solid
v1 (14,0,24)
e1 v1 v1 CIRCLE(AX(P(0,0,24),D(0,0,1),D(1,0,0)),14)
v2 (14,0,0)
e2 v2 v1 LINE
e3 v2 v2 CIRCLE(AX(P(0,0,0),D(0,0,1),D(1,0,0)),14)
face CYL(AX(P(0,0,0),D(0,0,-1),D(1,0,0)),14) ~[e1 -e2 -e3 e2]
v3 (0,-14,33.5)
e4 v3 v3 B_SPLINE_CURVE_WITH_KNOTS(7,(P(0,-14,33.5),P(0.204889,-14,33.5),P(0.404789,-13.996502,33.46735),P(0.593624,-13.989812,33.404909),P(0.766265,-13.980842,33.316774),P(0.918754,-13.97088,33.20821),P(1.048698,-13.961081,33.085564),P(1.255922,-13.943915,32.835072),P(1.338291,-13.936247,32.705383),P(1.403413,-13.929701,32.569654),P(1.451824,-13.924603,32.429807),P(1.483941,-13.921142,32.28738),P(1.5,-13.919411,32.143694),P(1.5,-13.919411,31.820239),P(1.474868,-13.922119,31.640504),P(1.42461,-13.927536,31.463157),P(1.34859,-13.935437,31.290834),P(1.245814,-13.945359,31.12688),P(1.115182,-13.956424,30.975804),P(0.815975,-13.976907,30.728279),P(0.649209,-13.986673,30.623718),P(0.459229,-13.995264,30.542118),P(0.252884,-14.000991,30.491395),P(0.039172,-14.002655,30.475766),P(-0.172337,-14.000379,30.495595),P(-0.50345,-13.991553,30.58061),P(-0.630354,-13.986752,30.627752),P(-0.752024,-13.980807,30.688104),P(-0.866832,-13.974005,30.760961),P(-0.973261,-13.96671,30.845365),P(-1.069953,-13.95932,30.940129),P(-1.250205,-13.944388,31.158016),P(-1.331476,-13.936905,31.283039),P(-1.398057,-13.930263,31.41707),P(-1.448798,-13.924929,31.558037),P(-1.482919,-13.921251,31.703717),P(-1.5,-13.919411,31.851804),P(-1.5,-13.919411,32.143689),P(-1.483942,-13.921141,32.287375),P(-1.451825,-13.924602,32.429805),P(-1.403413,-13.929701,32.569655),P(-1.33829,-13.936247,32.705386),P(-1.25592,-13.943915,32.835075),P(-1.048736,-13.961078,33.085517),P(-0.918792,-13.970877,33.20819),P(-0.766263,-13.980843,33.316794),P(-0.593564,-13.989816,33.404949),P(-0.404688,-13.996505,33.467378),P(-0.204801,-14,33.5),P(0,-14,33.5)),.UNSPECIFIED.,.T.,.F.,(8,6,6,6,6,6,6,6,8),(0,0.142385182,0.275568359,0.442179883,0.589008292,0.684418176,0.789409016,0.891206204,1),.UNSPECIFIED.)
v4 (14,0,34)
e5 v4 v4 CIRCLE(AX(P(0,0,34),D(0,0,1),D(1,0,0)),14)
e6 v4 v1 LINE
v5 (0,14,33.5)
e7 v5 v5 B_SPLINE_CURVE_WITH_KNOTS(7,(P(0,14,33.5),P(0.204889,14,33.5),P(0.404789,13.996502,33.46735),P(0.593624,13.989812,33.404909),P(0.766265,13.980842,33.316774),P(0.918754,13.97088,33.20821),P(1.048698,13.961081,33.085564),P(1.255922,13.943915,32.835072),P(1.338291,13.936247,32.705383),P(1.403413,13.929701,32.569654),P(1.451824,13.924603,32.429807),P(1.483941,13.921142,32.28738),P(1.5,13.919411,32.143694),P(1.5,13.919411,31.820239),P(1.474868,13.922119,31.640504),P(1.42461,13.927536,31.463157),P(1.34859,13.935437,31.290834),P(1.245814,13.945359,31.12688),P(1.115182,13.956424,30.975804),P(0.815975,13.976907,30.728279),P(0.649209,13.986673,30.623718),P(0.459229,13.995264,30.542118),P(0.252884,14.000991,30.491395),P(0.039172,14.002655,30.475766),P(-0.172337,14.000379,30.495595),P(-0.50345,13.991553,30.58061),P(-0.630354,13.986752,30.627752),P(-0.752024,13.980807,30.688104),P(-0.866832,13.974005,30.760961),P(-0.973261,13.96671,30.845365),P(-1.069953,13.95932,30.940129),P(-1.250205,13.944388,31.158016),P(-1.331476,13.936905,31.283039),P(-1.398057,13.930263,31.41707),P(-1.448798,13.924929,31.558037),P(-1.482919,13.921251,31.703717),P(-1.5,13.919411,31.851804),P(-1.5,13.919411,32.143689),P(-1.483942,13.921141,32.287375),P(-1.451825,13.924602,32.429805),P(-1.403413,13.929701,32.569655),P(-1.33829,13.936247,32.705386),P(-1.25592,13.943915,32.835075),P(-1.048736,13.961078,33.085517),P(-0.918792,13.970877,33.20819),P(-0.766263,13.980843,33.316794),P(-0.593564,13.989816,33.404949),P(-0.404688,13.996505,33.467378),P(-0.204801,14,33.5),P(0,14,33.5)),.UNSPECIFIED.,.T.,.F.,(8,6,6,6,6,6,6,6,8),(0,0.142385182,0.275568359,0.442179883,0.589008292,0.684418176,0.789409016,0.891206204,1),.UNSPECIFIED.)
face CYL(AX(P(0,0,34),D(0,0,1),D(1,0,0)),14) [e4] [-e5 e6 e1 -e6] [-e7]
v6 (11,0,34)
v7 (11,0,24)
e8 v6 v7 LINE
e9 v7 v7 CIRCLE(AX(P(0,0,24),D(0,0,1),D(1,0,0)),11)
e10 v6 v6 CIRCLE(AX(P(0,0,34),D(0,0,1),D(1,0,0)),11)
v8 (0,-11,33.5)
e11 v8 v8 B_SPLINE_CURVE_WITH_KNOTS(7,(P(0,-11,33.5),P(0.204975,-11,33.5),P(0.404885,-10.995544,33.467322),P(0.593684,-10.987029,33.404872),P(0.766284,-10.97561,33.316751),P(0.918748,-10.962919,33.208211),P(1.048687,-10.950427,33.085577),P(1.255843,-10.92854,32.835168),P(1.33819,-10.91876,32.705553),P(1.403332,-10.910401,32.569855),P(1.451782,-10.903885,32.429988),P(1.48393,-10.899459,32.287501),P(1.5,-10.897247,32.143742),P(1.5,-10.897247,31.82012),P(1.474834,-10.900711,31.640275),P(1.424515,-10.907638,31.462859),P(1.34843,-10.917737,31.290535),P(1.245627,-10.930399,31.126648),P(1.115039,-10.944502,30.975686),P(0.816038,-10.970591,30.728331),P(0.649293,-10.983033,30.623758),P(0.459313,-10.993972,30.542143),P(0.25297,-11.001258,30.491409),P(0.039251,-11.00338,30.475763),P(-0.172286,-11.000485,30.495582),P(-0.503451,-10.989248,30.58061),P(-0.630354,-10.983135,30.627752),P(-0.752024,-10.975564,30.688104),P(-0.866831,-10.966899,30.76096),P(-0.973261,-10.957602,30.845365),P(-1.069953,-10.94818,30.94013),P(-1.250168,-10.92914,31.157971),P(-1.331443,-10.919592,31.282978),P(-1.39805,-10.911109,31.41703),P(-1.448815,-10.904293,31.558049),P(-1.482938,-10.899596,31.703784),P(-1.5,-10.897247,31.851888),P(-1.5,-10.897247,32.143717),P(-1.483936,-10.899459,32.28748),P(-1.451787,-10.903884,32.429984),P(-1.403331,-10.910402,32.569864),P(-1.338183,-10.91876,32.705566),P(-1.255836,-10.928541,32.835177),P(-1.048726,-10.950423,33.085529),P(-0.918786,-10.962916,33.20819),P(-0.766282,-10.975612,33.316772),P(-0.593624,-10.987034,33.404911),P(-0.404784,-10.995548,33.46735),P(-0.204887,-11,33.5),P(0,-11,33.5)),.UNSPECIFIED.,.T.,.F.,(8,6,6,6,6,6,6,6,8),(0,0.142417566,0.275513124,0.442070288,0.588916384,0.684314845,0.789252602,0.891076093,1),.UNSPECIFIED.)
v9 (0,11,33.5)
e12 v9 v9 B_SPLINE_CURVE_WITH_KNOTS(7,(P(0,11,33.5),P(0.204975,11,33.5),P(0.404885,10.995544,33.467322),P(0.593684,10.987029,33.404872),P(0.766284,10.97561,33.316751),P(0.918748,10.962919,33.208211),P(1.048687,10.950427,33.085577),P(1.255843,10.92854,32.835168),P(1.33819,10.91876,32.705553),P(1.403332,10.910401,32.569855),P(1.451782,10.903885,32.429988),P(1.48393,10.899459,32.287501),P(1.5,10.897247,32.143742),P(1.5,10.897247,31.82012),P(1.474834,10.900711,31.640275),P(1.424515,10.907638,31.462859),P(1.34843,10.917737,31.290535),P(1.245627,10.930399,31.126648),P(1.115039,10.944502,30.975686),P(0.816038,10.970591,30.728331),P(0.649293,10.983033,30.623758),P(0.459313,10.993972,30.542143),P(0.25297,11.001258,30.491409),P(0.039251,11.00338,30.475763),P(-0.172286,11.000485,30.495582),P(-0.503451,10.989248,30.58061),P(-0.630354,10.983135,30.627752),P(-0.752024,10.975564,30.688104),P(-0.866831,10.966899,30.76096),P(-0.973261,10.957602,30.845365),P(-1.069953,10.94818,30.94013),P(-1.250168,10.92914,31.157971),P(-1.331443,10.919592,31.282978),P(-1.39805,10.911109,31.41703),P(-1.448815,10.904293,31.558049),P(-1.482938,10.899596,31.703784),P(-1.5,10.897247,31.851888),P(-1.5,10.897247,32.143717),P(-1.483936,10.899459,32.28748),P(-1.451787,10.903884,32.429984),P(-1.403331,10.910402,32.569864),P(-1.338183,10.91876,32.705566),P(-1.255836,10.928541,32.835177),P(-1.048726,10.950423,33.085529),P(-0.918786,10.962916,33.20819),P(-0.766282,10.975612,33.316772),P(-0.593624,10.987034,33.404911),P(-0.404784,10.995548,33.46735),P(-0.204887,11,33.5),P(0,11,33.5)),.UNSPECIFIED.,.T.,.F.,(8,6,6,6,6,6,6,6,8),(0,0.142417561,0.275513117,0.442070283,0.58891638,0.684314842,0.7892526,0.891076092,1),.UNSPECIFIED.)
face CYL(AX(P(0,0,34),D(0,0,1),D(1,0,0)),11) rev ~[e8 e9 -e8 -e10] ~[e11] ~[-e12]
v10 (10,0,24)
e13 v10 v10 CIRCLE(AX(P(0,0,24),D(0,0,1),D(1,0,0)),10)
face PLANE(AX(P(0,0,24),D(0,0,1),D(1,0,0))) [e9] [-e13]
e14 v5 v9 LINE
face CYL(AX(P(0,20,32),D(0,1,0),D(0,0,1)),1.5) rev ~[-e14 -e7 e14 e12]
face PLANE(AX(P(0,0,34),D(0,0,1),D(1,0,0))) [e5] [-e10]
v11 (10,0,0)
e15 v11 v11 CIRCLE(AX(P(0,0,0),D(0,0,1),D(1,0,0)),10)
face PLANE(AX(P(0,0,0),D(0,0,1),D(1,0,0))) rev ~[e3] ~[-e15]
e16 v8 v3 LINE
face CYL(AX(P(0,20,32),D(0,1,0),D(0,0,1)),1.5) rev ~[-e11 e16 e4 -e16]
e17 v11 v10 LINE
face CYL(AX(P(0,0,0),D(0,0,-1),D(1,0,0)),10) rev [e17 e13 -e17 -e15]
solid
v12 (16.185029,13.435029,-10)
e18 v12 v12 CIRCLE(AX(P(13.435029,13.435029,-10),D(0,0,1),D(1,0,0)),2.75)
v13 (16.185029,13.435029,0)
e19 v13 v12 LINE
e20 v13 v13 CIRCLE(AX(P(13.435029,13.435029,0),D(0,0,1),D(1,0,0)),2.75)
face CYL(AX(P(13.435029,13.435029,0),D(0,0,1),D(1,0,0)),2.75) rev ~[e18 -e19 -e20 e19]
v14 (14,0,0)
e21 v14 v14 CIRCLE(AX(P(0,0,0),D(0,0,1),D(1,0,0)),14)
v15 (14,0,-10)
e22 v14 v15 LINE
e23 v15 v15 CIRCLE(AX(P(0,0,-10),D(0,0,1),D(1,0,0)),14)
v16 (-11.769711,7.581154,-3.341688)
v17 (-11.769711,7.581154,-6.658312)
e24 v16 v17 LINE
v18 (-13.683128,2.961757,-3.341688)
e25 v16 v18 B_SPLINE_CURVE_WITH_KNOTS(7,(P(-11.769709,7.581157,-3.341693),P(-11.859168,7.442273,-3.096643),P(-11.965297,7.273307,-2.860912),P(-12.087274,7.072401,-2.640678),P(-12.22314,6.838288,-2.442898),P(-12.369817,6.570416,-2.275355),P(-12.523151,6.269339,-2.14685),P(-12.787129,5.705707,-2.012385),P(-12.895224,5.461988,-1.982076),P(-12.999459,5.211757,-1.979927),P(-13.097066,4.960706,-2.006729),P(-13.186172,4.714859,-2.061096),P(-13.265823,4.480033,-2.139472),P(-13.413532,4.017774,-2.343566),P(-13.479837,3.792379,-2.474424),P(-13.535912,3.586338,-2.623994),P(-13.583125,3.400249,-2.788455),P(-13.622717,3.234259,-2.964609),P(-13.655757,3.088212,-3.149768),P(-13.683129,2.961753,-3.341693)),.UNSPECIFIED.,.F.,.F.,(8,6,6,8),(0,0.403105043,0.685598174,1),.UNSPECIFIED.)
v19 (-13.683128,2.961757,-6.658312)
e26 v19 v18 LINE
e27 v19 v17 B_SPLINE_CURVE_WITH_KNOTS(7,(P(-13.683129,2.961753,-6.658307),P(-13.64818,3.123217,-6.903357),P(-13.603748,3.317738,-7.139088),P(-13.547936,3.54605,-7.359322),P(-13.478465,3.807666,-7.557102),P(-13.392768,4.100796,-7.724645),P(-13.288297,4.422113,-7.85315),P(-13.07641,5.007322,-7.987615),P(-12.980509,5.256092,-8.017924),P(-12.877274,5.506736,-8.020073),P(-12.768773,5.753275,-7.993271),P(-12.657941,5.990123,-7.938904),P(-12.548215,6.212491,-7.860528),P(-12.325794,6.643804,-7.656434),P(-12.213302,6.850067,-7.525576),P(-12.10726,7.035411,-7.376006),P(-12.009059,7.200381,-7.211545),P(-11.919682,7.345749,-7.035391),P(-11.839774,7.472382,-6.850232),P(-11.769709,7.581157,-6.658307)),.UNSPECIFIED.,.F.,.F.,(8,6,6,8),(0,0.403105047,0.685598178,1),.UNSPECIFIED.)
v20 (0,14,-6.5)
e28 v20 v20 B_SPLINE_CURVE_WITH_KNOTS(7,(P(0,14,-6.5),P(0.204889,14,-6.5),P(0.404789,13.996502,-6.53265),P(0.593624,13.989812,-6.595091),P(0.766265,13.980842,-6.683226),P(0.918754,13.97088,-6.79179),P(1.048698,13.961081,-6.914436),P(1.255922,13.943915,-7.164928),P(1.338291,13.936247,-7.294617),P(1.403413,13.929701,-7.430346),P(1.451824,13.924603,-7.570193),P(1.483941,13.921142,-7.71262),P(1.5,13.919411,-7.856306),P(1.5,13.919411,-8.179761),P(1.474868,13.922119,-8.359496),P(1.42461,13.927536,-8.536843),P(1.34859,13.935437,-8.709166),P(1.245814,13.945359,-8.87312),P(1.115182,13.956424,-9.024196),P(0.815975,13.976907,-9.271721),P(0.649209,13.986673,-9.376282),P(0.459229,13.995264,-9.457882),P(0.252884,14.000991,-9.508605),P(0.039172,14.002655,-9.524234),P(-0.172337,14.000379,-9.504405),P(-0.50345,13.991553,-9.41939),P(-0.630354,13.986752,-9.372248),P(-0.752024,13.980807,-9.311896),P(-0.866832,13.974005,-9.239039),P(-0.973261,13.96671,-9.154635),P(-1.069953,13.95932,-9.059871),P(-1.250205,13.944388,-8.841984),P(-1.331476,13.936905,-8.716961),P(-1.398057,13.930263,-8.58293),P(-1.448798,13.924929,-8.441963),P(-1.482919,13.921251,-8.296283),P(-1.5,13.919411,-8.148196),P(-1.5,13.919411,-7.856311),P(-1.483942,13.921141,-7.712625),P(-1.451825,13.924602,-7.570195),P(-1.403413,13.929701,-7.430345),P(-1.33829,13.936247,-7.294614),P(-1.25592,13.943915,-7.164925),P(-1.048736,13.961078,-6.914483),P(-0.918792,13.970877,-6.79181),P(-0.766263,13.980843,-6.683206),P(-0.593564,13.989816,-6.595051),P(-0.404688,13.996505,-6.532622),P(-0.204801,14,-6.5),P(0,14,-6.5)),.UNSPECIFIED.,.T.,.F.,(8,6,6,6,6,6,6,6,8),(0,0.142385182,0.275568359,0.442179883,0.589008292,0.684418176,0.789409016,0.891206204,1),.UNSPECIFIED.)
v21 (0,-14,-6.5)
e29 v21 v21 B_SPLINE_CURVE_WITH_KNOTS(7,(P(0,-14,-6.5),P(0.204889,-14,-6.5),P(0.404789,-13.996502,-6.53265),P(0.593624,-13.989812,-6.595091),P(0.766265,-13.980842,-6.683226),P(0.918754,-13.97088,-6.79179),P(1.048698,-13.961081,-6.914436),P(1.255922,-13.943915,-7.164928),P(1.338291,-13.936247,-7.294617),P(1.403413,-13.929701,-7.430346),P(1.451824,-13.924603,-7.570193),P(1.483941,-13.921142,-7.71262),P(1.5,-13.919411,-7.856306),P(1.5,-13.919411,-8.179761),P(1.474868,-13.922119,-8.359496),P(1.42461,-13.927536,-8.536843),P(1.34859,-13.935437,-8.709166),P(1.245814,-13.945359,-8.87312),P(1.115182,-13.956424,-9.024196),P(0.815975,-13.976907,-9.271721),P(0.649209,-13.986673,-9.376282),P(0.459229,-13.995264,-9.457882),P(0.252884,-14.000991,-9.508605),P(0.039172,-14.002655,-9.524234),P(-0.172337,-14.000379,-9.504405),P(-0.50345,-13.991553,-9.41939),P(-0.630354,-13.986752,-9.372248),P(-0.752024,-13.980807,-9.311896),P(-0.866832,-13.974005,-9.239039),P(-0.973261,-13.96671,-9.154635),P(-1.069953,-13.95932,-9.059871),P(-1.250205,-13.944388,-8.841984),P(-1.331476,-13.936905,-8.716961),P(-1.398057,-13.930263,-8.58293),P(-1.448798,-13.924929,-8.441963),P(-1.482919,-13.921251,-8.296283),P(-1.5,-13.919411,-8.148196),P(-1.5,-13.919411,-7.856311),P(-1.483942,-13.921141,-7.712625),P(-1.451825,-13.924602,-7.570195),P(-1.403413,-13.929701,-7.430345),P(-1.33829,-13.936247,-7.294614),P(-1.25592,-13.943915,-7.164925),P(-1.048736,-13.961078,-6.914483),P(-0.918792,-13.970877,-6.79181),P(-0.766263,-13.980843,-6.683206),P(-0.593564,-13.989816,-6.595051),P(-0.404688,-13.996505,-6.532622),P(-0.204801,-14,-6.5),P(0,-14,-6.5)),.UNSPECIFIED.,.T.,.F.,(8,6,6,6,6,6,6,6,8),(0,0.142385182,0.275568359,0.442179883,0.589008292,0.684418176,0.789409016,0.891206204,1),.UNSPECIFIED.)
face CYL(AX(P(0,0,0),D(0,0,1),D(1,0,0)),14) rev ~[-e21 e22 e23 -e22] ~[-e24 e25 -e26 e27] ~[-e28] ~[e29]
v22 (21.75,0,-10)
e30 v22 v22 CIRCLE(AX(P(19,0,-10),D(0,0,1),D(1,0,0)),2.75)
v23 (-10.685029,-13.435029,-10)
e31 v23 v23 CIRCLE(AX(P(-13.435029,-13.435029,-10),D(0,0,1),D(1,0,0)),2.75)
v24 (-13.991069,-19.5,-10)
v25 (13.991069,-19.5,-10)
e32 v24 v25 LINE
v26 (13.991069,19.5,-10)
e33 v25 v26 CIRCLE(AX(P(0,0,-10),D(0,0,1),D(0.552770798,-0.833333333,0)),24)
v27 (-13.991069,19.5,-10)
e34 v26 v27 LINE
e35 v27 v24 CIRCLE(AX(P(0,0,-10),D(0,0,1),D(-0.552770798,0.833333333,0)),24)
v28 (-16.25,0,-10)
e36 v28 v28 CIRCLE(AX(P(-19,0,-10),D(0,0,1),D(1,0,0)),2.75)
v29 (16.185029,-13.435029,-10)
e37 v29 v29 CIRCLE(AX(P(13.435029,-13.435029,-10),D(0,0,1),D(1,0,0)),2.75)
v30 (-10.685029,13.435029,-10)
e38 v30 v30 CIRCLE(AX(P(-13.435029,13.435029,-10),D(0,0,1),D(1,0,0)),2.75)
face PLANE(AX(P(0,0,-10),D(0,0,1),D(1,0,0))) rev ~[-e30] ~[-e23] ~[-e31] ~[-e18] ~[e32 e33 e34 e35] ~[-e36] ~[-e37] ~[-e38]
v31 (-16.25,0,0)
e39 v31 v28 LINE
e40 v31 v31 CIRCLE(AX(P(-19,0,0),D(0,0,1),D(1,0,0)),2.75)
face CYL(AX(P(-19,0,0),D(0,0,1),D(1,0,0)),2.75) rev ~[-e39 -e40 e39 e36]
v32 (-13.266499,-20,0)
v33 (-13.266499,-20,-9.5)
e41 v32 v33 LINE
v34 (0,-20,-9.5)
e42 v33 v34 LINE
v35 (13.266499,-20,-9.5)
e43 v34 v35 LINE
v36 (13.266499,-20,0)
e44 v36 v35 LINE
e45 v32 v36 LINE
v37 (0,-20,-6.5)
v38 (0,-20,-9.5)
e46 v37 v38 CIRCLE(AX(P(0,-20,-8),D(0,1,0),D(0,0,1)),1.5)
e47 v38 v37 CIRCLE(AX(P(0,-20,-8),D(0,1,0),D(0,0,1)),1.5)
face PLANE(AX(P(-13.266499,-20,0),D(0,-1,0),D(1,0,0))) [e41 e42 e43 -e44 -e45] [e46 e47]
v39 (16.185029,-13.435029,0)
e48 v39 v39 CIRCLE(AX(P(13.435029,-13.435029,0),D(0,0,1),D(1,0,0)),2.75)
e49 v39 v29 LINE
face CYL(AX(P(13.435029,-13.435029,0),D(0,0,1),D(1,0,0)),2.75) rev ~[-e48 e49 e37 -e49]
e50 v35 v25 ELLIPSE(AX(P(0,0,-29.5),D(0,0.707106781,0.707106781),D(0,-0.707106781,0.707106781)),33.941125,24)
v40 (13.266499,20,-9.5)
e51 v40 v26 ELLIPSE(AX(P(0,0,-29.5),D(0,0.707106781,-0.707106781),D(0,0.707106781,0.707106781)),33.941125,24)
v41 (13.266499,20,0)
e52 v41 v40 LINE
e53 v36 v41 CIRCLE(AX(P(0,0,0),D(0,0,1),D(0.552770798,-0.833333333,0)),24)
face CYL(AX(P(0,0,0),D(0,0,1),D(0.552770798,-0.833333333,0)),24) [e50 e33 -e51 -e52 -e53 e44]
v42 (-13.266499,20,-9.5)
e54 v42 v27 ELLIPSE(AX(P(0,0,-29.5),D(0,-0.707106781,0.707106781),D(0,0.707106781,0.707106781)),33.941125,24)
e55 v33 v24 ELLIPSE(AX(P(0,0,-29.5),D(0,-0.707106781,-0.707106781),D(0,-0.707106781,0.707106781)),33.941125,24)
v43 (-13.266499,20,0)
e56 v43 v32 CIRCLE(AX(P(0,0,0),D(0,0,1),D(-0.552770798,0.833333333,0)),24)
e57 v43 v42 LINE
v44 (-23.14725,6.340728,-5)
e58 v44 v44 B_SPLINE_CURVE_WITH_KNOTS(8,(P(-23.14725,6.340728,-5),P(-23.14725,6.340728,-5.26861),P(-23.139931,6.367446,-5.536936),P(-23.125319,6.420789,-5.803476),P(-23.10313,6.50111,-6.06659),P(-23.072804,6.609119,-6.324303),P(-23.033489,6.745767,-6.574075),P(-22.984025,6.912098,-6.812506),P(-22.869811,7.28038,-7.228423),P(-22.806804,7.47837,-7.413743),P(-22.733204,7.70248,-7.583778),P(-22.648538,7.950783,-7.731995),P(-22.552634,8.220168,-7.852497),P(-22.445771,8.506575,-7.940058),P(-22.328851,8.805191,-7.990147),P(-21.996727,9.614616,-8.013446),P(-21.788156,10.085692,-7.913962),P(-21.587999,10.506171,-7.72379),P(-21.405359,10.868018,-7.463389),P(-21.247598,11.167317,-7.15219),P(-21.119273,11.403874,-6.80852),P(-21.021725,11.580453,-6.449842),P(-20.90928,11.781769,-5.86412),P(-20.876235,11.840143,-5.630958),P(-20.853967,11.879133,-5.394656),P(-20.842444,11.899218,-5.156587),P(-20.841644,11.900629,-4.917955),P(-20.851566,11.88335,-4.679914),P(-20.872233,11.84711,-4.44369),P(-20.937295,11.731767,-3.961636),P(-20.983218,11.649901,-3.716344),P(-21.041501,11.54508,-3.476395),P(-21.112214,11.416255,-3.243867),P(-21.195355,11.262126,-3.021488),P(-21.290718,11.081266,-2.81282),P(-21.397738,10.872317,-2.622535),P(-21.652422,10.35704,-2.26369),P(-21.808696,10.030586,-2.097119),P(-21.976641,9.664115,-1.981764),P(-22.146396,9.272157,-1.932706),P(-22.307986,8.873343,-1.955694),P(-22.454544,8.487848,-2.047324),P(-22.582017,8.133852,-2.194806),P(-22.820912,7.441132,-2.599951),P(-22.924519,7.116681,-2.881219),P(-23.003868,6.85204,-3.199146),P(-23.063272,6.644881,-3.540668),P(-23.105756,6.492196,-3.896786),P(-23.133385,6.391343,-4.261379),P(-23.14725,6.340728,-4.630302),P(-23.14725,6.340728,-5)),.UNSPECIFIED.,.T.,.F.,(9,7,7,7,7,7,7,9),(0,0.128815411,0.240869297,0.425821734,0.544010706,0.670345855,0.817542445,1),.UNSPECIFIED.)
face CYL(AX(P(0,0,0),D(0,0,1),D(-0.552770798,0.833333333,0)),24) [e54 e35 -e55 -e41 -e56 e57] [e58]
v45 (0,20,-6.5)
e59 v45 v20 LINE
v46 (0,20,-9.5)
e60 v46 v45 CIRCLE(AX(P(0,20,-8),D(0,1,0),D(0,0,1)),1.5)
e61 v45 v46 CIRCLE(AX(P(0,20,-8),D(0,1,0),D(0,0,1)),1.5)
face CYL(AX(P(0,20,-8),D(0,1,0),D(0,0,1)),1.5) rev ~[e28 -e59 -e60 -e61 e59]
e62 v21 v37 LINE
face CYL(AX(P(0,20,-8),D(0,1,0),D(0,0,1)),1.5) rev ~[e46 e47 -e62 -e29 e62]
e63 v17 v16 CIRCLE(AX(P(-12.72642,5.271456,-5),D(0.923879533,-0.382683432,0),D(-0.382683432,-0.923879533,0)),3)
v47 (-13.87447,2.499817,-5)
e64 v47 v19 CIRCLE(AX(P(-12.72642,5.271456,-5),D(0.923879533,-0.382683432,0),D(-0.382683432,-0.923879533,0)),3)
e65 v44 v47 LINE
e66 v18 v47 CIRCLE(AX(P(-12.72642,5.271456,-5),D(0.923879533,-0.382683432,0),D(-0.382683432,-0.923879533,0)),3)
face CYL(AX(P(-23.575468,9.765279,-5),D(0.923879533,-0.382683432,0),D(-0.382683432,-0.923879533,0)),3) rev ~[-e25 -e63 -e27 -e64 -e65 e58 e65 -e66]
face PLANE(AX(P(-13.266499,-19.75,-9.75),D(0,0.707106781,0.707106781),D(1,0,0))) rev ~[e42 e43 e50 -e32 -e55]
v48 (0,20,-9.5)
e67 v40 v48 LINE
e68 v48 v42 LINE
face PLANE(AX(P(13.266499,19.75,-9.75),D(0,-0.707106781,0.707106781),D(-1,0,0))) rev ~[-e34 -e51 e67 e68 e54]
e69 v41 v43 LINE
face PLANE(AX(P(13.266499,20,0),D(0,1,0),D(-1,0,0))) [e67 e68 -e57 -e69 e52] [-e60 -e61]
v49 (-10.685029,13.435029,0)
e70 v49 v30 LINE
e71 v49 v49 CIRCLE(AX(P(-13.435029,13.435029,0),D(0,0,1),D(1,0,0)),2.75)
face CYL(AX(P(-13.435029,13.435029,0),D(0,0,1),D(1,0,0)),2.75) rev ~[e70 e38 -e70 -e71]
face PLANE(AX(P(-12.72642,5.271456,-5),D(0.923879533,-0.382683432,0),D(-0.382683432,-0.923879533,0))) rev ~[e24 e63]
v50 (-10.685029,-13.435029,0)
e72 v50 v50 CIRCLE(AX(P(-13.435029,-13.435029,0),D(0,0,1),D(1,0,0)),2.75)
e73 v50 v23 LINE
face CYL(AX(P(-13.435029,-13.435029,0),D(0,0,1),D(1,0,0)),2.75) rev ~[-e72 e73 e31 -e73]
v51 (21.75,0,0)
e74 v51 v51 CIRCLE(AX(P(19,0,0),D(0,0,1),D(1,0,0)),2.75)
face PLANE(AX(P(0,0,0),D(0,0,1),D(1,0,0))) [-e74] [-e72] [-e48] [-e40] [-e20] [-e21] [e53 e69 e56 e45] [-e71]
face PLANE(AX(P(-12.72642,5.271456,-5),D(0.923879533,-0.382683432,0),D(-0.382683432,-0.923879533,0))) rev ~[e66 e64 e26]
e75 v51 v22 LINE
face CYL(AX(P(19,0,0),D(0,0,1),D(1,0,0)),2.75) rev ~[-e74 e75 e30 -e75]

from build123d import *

# Parameters (mm, degrees)
SKETCH1_R           = 2.75
SKETCH1_R_2         = 14
BOSS_EXTRUDE1_DEPTH = 10
SKETCH1_3_R         = 14
SKETCH1_3_R_2       = 11
SKETCH1_3_R_3       = 10
BOSS_EXTRUDE2_DEPTH = 24
BOSS_EXTRUDE3_START = 10
SKETCH3_R           = 14
SKETCH3_R_2         = 11
BOSS_EXTRUDE3_DEPTH = 10
CHAMFER1_SIZE       = 0.5
SKETCH4_R           = 1.5
CUT_EXTRUDE1_DEPTH  = 58.723478759


with BuildPart() as part:
    # Sketch1 → Boss-Extrude1 (new body)
    with BuildSketch(Plane.XY):
        with BuildLine():
            Line((-13.266499161, -20), (13.266499161, -20))
            ThreePointArc((13.266499161, -20), (24, 0), (13.266499161, 20))
            Line((13.266499161, 20), (-13.266499161, 20))
            ThreePointArc((-13.266499161, 20), (-24, 0), (-13.266499161, -20))
        make_face()
        with Locations((-19, 0)):
            Circle(SKETCH1_R, mode=Mode.SUBTRACT)
        with Locations((13.435028843, 13.435028843)):
            Circle(SKETCH1_R, mode=Mode.SUBTRACT)
        with Locations((13.435028843, -13.435028843)):
            Circle(SKETCH1_R, mode=Mode.SUBTRACT)
        with Locations((19, 0)):
            Circle(SKETCH1_R, mode=Mode.SUBTRACT)
        Circle(SKETCH1_R_2, mode=Mode.SUBTRACT)
        with Locations((-13.435028843, -13.435028843)):
            Circle(SKETCH1_R, mode=Mode.SUBTRACT)
        with Locations((-13.435028843, 13.435028843)):
            Circle(SKETCH1_R, mode=Mode.SUBTRACT)
    extrude(amount=-BOSS_EXTRUDE1_DEPTH)

    # Chamfer1
    chamfer1_edges = [part.edges().sort_by_distance(p)[0] for p in [
        (0, -20, -10),
        (0, 20, -10),
    ]]
    chamfer(chamfer1_edges, length=CHAMFER1_SIZE)


with BuildPart() as body_2:
    # Sketch1<3> → Boss-Extrude2 (new body)
    # profile 1 of 2: a face of its own
    with BuildSketch(Plane.XY):
        Circle(SKETCH1_3_R)
        Circle(SKETCH1_3_R_2, mode=Mode.SUBTRACT)
    # profile 2 of 2: a face of its own
    with BuildSketch(Plane.XY):
        Circle(SKETCH1_3_R_2)
        Circle(SKETCH1_3_R_3, mode=Mode.SUBTRACT)
    extrude(amount=BOSS_EXTRUDE2_DEPTH)

    # Sketch3 → Boss-Extrude3 (add)
    with BuildSketch(Plane.XY.offset(24).offset(BOSS_EXTRUDE3_START)):
        Circle(SKETCH3_R)
        Circle(SKETCH3_R_2, mode=Mode.SUBTRACT)
    extrude(amount=-BOSS_EXTRUDE3_DEPTH)


with BuildPart() as cut_extrude1_tool:
    # Sketch4 → Cut-Extrude1 (new, through all)
    with BuildSketch(Plane(origin=(0, 20, 0), x_dir=(1, 0, 0), z_dir=(0, 1, 0))):
        with Locations(Location((0, 8, 0), (0, 0, 270))):
            Circle(SKETCH4_R)
        with Locations(Location((0, -32, 0), (0, 0, 270))):
            Circle(SKETCH4_R)
    extrude(amount=-CUT_EXTRUDE1_DEPTH)


with BuildPart() as part_1:
    add(part.part)

    # Cut-Extrude1: cut by cut_extrude1_tool
    add(cut_extrude1_tool.part, mode=Mode.SUBTRACT)

    # Sketch7 → Cut-Revolve3 (revolve, cut)
    with BuildSketch(Plane.XY.offset(-5), mode=Mode.PRIVATE) as cut_revolve3_sk:
        with BuildLine():
            Line((-11.578369304, 8.043094197), (-11.76971102, 7.581154431))
            Line((-11.76971102, 7.581154431), (-7.689730302, 5.891171083))
            Line((-7.689730302, 5.891171083), (-8.646438883, 3.581472252))
            Line((-8.646438883, 3.581472252), (-23.73783256, 9.832532188))
            ThreePointArc((-23.73783256, 9.832532188), (-23.122197536, 11.203899543), (-22.427418184, 12.536917382))
            Line((-22.427418184, 12.536917382), (-11.578369304, 8.043094197))
        make_face()
    revolve(cut_revolve3_sk.sketch.rotate(Axis((-23.73783256, 9.832532188, -5), (0.9238795325112868, -0.38268343236508984, 0)), 180), axis=Axis((-23.73783256, 9.832532188, -5), (0.9238795325112868, -0.38268343236508984, 0)), mode=Mode.SUBTRACT)


with BuildPart() as body_2_1:
    add(body_2.part)

    # Cut-Extrude1: cut by cut_extrude1_tool
    add(cut_extrude1_tool.part, mode=Mode.SUBTRACT)


solid = Compound([part_1.part, body_2_1.part])
